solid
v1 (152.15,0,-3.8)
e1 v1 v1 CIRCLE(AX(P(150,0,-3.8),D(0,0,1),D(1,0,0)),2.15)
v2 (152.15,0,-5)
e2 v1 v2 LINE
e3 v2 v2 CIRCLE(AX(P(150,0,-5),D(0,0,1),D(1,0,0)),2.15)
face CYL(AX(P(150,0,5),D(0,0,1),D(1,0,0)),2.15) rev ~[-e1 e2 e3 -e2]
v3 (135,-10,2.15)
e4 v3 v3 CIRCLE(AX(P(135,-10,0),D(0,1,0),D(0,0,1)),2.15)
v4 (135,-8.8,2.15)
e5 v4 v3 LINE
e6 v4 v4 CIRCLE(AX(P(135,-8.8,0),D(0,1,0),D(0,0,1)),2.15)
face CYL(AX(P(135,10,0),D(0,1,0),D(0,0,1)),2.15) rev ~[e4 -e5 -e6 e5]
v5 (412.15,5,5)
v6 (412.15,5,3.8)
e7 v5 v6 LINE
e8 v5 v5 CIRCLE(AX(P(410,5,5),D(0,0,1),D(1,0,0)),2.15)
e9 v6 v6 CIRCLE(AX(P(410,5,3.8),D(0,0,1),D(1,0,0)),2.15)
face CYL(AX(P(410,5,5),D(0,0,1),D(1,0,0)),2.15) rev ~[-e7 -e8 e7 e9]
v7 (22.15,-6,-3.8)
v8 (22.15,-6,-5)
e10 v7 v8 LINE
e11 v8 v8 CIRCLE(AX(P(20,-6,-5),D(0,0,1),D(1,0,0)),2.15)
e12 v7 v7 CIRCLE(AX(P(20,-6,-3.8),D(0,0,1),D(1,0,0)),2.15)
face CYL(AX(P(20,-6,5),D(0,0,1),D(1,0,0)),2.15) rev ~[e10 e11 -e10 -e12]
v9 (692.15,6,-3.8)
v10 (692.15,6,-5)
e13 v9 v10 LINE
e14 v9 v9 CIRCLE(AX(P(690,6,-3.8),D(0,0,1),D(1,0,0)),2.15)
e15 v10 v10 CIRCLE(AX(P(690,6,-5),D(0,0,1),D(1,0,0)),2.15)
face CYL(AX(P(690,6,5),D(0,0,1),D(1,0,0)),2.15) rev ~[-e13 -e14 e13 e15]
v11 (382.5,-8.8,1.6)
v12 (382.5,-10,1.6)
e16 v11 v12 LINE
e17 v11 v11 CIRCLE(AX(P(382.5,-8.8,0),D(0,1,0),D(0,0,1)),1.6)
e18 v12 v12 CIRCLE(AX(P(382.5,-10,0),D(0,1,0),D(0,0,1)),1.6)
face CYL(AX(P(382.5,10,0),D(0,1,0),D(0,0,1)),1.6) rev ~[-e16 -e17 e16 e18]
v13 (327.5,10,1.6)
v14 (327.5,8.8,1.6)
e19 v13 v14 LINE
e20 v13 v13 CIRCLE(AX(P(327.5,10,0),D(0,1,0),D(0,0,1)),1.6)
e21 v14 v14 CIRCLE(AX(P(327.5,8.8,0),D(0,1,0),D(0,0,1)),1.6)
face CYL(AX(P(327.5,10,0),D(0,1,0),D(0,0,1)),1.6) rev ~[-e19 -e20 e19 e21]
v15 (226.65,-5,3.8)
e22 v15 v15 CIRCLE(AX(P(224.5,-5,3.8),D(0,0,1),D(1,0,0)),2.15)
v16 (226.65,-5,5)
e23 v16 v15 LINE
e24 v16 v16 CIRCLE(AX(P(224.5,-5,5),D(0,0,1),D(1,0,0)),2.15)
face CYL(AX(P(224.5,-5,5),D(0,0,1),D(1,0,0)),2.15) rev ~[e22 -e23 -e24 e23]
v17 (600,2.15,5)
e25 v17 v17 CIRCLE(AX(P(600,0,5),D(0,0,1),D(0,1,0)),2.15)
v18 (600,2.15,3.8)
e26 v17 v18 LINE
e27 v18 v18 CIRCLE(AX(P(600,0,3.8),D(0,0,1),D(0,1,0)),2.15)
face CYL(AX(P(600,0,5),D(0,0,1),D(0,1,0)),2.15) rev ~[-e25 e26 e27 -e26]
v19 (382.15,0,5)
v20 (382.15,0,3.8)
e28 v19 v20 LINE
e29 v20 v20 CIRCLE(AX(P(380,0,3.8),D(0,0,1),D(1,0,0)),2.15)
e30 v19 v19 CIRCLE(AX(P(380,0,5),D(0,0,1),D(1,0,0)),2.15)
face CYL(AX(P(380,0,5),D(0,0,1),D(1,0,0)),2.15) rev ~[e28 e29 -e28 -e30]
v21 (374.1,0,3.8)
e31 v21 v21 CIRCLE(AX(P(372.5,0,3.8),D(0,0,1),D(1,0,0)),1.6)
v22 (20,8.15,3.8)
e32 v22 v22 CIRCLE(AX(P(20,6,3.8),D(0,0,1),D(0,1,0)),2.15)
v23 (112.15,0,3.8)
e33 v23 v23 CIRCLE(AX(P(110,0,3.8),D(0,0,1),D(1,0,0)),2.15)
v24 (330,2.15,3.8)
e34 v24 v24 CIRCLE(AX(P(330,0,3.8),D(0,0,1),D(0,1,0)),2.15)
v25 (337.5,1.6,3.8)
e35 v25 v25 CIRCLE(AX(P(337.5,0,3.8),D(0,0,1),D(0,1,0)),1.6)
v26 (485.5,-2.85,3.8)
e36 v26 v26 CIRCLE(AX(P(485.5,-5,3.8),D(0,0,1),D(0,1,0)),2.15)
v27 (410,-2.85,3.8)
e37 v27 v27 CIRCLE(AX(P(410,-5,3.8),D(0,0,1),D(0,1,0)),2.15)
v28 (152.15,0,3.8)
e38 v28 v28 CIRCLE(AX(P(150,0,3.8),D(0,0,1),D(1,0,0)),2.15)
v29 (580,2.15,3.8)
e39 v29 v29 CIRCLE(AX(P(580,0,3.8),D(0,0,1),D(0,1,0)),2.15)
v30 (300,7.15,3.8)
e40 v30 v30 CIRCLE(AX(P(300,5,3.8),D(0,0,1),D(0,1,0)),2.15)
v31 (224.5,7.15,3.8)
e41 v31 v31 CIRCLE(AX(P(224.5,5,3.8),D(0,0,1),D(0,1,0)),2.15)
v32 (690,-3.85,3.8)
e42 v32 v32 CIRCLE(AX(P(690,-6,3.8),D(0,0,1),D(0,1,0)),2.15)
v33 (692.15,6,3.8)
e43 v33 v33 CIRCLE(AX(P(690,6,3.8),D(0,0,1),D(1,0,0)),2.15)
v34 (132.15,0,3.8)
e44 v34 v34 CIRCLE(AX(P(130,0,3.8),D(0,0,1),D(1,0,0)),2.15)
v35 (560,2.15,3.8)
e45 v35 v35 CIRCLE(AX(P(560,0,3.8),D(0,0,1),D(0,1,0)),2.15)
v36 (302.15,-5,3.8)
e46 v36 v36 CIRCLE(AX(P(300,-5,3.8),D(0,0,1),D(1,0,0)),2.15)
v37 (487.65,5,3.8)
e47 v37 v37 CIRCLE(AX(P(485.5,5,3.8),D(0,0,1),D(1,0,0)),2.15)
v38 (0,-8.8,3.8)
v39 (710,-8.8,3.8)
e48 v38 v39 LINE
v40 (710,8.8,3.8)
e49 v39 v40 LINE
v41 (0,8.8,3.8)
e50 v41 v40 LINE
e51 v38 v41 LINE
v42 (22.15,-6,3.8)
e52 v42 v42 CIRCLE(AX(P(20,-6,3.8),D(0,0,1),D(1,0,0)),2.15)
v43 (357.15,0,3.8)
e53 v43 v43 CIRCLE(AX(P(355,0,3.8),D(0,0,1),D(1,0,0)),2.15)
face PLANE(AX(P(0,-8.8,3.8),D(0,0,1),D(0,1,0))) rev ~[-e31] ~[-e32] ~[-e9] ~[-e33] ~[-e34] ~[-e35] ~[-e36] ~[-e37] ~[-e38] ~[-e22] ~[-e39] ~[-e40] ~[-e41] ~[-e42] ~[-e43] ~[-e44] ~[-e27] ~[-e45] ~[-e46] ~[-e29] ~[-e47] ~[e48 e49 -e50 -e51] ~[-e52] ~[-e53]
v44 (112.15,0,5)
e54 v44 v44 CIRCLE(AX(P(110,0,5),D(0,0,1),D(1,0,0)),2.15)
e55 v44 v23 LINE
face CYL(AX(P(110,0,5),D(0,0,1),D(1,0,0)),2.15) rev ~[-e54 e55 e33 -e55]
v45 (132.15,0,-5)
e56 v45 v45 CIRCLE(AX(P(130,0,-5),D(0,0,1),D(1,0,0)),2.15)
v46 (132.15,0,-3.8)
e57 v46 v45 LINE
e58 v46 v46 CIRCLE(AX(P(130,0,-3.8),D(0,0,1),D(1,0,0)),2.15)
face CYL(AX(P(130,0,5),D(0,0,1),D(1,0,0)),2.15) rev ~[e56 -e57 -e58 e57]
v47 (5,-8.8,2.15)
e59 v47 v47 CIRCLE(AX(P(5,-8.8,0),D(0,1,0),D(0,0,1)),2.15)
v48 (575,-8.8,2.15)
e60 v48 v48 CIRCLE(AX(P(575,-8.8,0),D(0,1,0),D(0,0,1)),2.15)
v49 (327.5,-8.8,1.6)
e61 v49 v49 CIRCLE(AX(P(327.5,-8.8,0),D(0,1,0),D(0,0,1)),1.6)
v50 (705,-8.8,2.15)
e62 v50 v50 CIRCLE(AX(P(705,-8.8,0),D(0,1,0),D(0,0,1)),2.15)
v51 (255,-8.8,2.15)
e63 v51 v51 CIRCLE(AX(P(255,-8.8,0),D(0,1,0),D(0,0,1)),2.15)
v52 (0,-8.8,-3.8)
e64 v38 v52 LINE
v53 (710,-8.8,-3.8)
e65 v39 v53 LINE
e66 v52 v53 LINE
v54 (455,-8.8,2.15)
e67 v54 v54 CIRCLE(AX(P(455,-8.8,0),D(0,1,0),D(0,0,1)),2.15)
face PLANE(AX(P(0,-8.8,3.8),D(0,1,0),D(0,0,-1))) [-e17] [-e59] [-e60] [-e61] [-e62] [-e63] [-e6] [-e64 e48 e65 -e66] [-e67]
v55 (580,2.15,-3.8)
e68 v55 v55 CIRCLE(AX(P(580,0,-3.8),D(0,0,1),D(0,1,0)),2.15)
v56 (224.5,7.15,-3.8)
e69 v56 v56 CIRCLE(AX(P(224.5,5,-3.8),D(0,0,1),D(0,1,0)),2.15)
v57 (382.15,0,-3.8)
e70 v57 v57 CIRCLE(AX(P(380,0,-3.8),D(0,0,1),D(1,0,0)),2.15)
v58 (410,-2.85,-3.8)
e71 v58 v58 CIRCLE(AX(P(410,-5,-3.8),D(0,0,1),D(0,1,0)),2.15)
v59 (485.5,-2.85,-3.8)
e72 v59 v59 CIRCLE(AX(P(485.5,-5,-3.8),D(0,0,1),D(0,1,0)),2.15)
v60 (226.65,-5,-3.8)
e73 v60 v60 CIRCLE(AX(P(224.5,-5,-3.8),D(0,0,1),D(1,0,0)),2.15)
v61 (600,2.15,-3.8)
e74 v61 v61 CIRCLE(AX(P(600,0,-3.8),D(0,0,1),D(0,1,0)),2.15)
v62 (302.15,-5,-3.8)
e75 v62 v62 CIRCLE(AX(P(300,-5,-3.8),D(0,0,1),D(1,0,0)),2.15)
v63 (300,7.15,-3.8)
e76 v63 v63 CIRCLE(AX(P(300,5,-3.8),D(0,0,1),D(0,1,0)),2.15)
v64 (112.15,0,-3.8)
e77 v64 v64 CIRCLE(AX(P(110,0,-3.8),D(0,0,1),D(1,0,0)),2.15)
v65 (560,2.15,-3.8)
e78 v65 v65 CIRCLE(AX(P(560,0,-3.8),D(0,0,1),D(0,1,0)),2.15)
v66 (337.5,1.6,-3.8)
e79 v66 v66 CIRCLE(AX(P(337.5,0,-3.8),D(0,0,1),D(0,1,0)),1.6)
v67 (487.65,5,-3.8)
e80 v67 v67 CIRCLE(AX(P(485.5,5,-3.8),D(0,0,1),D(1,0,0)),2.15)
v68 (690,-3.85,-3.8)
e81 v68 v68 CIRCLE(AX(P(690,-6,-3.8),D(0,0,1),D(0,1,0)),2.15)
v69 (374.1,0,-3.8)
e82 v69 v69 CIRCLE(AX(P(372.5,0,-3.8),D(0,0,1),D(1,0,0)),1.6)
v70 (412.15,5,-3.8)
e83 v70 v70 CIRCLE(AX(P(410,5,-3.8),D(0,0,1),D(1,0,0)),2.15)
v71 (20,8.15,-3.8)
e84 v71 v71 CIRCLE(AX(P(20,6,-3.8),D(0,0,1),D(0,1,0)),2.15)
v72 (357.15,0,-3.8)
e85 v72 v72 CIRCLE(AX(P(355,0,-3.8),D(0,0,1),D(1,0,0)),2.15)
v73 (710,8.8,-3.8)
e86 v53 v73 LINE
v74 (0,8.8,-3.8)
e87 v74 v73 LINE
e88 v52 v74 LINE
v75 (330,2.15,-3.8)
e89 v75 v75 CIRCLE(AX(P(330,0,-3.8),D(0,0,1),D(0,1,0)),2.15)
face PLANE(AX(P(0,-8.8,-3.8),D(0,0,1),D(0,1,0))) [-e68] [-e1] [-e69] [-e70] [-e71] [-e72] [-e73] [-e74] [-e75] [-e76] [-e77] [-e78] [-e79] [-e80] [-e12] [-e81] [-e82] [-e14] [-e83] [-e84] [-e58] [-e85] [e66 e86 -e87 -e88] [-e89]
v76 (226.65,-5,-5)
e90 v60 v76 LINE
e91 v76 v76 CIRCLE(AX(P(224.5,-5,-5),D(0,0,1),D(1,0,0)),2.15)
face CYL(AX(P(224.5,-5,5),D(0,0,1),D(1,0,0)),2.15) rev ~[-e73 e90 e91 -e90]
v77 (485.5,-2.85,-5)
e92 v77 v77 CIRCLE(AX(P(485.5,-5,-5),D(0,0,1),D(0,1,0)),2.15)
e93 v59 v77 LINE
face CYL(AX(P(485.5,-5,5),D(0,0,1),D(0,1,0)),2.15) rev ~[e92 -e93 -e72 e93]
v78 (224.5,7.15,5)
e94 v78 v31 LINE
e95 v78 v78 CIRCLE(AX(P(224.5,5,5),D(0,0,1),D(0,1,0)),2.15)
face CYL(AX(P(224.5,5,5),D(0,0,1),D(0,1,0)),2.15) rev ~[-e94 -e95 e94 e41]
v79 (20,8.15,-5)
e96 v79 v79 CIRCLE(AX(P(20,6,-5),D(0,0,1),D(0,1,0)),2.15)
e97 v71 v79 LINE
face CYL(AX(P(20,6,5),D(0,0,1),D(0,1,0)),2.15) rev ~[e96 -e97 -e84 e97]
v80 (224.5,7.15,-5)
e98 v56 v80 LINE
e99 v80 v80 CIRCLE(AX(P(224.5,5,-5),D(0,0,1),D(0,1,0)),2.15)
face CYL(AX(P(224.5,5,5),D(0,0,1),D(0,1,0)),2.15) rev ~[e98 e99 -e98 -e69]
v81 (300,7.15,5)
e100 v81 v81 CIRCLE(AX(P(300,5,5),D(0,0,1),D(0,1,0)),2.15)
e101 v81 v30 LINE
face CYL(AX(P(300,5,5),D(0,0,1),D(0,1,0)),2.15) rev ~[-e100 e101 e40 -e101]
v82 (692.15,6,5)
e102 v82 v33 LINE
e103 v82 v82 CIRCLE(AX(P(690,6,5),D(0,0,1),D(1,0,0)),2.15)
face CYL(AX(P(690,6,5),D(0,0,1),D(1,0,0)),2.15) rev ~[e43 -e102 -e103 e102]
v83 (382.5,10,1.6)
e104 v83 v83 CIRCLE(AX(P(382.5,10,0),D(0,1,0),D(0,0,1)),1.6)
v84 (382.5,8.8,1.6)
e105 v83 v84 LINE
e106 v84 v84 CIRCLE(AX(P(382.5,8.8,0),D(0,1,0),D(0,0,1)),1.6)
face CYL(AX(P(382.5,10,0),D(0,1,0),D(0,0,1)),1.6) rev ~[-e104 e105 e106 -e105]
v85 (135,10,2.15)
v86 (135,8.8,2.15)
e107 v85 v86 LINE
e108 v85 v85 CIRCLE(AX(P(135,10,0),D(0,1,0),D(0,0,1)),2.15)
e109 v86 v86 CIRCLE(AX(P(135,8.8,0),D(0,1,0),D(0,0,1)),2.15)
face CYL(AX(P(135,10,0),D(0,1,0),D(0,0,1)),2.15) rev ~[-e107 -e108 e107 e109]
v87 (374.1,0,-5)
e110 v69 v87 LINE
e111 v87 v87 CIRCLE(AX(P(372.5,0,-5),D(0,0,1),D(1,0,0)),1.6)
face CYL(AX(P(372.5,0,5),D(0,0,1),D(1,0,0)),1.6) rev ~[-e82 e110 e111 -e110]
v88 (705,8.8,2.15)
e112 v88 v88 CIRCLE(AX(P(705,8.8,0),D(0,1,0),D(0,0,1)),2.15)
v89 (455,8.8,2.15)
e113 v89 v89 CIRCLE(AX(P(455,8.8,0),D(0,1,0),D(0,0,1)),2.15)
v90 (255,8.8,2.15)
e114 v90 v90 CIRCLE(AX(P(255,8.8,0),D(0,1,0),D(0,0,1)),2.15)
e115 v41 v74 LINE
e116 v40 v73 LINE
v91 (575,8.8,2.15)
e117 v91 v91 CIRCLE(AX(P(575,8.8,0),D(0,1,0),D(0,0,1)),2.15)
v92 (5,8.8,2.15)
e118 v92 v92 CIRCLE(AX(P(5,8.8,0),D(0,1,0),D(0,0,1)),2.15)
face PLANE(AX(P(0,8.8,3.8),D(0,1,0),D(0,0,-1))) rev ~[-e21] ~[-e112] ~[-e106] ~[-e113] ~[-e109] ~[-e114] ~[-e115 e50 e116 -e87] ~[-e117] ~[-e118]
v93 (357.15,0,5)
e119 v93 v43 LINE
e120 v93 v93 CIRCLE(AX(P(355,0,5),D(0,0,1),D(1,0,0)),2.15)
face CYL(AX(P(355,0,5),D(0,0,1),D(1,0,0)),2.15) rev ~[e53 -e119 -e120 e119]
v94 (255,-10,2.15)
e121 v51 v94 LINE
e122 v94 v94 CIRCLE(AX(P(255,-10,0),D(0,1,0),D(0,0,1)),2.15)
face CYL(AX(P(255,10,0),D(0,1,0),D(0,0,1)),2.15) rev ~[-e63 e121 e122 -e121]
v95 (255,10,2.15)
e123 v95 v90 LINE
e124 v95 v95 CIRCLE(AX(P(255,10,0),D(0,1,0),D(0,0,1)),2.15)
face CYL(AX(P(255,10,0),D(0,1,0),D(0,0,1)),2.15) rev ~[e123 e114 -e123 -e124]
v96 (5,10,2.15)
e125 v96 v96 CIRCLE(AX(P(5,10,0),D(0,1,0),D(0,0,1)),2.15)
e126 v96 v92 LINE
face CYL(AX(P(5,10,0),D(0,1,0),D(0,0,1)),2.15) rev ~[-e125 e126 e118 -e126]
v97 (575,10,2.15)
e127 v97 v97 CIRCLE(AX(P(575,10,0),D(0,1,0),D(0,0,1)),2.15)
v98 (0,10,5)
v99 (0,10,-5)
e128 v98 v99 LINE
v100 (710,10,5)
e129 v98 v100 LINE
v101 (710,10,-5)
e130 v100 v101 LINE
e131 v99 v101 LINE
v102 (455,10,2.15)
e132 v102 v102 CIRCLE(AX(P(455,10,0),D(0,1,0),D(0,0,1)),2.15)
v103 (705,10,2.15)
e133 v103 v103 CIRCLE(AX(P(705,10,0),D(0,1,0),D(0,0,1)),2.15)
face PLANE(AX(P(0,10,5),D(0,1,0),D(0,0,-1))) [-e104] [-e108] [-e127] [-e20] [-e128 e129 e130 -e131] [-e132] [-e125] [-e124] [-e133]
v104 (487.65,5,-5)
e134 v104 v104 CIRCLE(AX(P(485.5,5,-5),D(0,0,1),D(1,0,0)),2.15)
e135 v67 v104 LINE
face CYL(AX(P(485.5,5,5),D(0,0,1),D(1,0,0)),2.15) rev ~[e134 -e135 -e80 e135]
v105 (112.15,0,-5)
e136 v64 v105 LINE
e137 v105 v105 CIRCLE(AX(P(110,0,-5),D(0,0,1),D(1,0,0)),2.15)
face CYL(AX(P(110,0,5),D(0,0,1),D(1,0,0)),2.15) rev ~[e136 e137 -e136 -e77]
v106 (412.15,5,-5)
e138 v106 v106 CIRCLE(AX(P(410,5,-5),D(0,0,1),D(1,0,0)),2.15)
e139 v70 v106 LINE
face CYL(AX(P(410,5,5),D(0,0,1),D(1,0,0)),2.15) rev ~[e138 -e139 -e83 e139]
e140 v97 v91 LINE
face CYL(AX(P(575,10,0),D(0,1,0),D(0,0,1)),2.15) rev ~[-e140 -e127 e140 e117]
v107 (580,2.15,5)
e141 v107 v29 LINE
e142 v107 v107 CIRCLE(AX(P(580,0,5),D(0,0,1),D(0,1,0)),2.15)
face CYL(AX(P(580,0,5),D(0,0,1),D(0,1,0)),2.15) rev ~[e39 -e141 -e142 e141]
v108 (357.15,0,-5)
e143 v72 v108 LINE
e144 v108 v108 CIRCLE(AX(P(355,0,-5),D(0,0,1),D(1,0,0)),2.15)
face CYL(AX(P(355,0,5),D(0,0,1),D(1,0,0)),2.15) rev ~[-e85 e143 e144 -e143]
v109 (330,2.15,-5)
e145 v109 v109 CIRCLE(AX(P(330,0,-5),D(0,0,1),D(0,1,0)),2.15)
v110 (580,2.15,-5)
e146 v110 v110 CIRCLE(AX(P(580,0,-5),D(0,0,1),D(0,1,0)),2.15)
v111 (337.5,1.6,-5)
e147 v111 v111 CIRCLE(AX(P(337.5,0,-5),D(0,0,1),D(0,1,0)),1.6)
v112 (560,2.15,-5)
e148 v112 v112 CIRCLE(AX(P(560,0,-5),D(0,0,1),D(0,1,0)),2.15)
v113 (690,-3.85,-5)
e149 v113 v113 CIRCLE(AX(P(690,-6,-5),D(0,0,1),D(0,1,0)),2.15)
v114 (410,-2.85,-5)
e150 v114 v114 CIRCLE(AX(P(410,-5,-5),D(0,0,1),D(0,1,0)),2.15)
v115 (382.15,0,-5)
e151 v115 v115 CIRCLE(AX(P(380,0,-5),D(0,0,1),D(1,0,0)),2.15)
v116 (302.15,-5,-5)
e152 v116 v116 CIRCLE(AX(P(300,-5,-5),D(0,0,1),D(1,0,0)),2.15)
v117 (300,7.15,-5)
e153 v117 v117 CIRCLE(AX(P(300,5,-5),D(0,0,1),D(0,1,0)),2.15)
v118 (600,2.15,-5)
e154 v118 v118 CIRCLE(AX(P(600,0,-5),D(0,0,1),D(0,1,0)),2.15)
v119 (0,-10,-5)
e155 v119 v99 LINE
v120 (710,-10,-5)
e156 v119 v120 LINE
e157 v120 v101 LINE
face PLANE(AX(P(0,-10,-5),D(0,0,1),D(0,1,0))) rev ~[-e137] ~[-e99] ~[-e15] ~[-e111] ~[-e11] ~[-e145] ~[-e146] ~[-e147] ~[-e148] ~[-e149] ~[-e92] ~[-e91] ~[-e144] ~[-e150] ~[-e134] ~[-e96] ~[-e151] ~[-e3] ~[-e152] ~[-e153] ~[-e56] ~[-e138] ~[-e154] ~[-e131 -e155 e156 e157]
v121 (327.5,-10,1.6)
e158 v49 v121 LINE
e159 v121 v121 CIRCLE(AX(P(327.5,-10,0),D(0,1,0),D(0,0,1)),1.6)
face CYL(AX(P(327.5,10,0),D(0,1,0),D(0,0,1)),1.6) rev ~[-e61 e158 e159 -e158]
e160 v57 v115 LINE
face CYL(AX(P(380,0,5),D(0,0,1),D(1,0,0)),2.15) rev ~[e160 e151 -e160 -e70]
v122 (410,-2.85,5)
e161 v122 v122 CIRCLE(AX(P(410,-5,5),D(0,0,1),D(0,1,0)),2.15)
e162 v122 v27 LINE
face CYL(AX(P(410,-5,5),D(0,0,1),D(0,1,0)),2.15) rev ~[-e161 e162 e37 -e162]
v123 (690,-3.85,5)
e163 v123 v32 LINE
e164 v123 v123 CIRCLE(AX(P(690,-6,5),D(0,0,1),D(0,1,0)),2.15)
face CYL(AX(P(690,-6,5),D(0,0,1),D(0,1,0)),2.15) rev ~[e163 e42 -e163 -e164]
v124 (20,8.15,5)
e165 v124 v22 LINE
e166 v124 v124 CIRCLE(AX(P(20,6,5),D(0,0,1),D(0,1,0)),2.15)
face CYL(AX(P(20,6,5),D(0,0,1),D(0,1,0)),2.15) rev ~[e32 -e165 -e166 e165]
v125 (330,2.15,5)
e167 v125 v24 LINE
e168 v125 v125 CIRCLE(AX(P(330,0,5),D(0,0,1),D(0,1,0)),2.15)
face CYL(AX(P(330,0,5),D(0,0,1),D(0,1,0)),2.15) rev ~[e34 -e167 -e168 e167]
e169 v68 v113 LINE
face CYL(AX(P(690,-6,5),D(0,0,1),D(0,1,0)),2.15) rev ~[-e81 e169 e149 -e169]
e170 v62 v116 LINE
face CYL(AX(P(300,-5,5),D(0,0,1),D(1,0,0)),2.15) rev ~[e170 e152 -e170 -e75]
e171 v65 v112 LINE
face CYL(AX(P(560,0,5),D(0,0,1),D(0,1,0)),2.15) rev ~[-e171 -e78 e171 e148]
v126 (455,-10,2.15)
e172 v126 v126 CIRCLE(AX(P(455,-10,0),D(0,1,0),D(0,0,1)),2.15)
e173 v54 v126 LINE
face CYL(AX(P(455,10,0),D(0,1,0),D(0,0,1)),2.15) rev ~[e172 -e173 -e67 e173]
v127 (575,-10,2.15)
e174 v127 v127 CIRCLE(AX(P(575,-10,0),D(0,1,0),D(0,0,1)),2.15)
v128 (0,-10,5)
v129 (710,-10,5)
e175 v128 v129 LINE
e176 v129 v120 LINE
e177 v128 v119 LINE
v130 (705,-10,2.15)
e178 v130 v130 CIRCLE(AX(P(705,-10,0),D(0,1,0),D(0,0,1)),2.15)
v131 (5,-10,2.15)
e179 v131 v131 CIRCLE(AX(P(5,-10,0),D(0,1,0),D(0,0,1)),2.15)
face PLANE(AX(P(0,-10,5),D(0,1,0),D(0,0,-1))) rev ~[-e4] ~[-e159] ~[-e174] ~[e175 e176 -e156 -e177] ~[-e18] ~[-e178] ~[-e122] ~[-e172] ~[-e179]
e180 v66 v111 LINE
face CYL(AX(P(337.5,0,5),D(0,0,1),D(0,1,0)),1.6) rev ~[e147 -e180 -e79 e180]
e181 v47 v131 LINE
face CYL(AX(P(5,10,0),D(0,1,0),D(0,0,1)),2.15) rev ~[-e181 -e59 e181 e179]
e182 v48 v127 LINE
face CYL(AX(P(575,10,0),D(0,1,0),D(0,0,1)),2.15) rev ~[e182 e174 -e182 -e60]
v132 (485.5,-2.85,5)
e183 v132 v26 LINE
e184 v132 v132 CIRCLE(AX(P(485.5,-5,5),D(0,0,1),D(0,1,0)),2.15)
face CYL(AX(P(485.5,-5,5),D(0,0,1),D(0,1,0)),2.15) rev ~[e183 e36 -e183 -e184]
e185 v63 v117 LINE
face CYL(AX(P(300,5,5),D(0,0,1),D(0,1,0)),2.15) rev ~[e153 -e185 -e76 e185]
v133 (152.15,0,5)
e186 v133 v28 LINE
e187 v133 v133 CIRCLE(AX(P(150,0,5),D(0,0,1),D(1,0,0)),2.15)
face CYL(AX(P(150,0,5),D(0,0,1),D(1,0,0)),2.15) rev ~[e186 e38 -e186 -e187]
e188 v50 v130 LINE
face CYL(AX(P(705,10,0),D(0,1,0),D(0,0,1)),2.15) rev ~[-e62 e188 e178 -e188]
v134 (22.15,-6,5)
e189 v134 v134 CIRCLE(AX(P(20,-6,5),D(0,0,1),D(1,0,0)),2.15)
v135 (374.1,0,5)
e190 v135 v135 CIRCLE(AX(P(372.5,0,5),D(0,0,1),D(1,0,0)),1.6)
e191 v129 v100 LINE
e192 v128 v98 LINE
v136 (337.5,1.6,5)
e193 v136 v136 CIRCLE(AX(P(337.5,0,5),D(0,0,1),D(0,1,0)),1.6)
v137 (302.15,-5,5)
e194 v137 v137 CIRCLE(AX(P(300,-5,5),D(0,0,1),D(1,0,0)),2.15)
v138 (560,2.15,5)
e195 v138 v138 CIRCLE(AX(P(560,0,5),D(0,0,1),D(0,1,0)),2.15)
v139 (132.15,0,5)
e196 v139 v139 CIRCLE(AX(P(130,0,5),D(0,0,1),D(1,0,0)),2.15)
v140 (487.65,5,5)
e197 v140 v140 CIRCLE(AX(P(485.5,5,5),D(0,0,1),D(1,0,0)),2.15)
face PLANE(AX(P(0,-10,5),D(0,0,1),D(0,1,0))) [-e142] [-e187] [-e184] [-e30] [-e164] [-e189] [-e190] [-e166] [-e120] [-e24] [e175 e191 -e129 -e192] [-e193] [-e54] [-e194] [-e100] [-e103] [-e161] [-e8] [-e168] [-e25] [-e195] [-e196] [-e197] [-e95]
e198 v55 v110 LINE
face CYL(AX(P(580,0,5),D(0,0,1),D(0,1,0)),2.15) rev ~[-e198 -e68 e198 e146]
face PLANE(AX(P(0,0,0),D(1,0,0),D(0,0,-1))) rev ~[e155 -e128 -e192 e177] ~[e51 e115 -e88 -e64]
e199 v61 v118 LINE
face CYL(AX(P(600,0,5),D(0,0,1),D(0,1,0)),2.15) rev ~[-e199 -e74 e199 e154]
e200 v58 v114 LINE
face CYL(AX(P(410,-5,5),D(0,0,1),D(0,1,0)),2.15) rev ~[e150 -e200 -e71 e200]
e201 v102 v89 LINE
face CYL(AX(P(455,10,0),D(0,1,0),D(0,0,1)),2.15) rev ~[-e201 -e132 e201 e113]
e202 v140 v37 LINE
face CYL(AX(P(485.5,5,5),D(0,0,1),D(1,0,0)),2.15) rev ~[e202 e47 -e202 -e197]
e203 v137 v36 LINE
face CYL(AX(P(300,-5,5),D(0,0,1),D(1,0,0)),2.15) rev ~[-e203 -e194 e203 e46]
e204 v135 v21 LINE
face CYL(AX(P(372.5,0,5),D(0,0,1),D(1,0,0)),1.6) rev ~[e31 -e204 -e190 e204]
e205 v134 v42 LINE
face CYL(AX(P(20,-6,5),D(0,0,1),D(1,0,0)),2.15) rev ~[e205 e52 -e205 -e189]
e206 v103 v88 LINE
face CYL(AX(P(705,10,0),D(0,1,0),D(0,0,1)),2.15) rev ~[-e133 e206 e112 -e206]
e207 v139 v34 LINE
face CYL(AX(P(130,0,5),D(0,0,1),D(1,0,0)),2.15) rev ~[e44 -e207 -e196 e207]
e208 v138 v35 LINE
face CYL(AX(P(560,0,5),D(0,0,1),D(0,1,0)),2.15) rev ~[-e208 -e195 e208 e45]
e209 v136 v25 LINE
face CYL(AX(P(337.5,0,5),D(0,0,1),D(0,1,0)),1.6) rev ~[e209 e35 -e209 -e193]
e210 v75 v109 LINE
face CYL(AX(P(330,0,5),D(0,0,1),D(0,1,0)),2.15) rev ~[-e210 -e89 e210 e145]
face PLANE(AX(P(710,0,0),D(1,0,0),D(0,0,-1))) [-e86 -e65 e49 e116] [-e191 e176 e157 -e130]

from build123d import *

# Parameters (mm, degrees)
SKETCH_1_W          = 10
SKETCH_1_H          = 20
SKETCH_1_W_2        = 7.6
SKETCH_1_H_2        = 17.6
EXTRUDE_1_DEPTH     = 710
SKETCH_2_R          = 2.15
SKETCH_2_R_2        = 1.6
CUT_EXTRUDE_1_DEPTH = 711.299232718
SKETCH_3_R          = 2.15
SKETCH_3_R_2        = 1.6
CUT_EXTRUDE_2_DEPTH = 711.140831103
SKETCH_5_R          = 2.15
CUT_EXTRUDE_3_DEPTH = 711.140831103


with BuildPart() as part:
    # ｽｹｯﾁ1 → 押し出し-薄板1 (new body)
    with BuildSketch(Plane(origin=(0, 0, 0), x_dir=(0, 0, -1), z_dir=(1, 0, 0))):
        Rectangle(SKETCH_1_W, SKETCH_1_H)
        Rectangle(SKETCH_1_W_2, SKETCH_1_H_2, mode=Mode.SUBTRACT)
    extrude(amount=EXTRUDE_1_DEPTH)

    # ｽｹｯﾁ2 → ｶｯﾄ - 押し出し1 (cut, through all)
    with BuildSketch(Plane(origin=(0, 10, 0), x_dir=(1, 0, 0), z_dir=(0, 1, 0))):
        with Locations(Location((575, 0, 0), (0, 0, 270))):
            Circle(SKETCH_2_R)
        with Locations(Location((705, 0, 0), (0, 0, 270))):
            Circle(SKETCH_2_R)
        with Locations(Location((5, 0, 0), (0, 0, 270))):
            Circle(SKETCH_2_R)
        with Locations(Location((135, 0, 0), (0, 0, 270))):
            Circle(SKETCH_2_R)
        with Locations(Location((455, 0, 0), (0, 0, 270))):
            Circle(SKETCH_2_R)
        with Locations(Location((255, 0, 0), (0, 0, 270))):
            Circle(SKETCH_2_R)
        with Locations(Location((382.5, 0, 0), (0, 0, 270))):
            Circle(SKETCH_2_R_2)
        with Locations(Location((327.5, 0, 0), (0, 0, 270))):
            Circle(SKETCH_2_R_2)
    extrude(amount=-CUT_EXTRUDE_1_DEPTH, mode=Mode.SUBTRACT)

    # ｽｹｯﾁ3 → ｶｯﾄ - 押し出し2 (cut, through all)
    with BuildSketch(Plane.XY.offset(5)):
        with Locations((410, 5)):
            Circle(SKETCH_3_R)
        with Locations(Location((410, -5, 0), (0, 0, 90))):
            Circle(SKETCH_3_R)
        with Locations((690, 6)):
            Circle(SKETCH_3_R)
        with Locations(Location((690, -6, 0), (0, 0, 90))):
            Circle(SKETCH_3_R)
        with Locations(Location((20, 6, 0), (0, 0, 90))):
            Circle(SKETCH_3_R)
        with Locations((20, -6)):
            Circle(SKETCH_3_R)
        with Locations((300, -5)):
            Circle(SKETCH_3_R)
        with Locations(Location((300, 5, 0), (0, 0, 90))):
            Circle(SKETCH_3_R)
        with Locations((372.5, 0)):
            Circle(SKETCH_3_R_2)
        with Locations(Location((337.5, 0, 0), (0, 0, 90))):
            Circle(SKETCH_3_R_2)
        with Locations(Location((224.5, 5, 0), (0, 0, 90))):
            Circle(SKETCH_3_R)
        with Locations((110, 0)):
            Circle(SKETCH_3_R)
        with Locations((130, 0)):
            Circle(SKETCH_3_R)
        with Locations((150, 0)):
            Circle(SKETCH_3_R)
        with Locations(Location((560, 0, 0), (0, 0, 90))):
            Circle(SKETCH_3_R)
        with Locations(Location((580, 0, 0), (0, 0, 90))):
            Circle(SKETCH_3_R)
        with Locations(Location((600, 0, 0), (0, 0, 90))):
            Circle(SKETCH_3_R)
        with Locations((224.5, -5)):
            Circle(SKETCH_3_R)
        with Locations(Location((485.5, -5, 0), (0, 0, 90))):
            Circle(SKETCH_3_R)
        with Locations((485.5, 5)):
            Circle(SKETCH_3_R)
    extrude(amount=-CUT_EXTRUDE_2_DEPTH, mode=Mode.SUBTRACT)

    # ｽｹｯﾁ5 → ｶｯﾄ - 押し出し3 (cut, through all)
    with BuildSketch(Plane.XY.offset(5)):
        with Locations((380, 0)):
            Circle(SKETCH_5_R)
        with Locations(Location((330, 0, 0), (0, 0, 90))):
            Circle(SKETCH_5_R)
        with Locations((355, 0)):
            Circle(SKETCH_5_R)
    extrude(amount=-CUT_EXTRUDE_3_DEPTH, mode=Mode.SUBTRACT)


solid = part.part
